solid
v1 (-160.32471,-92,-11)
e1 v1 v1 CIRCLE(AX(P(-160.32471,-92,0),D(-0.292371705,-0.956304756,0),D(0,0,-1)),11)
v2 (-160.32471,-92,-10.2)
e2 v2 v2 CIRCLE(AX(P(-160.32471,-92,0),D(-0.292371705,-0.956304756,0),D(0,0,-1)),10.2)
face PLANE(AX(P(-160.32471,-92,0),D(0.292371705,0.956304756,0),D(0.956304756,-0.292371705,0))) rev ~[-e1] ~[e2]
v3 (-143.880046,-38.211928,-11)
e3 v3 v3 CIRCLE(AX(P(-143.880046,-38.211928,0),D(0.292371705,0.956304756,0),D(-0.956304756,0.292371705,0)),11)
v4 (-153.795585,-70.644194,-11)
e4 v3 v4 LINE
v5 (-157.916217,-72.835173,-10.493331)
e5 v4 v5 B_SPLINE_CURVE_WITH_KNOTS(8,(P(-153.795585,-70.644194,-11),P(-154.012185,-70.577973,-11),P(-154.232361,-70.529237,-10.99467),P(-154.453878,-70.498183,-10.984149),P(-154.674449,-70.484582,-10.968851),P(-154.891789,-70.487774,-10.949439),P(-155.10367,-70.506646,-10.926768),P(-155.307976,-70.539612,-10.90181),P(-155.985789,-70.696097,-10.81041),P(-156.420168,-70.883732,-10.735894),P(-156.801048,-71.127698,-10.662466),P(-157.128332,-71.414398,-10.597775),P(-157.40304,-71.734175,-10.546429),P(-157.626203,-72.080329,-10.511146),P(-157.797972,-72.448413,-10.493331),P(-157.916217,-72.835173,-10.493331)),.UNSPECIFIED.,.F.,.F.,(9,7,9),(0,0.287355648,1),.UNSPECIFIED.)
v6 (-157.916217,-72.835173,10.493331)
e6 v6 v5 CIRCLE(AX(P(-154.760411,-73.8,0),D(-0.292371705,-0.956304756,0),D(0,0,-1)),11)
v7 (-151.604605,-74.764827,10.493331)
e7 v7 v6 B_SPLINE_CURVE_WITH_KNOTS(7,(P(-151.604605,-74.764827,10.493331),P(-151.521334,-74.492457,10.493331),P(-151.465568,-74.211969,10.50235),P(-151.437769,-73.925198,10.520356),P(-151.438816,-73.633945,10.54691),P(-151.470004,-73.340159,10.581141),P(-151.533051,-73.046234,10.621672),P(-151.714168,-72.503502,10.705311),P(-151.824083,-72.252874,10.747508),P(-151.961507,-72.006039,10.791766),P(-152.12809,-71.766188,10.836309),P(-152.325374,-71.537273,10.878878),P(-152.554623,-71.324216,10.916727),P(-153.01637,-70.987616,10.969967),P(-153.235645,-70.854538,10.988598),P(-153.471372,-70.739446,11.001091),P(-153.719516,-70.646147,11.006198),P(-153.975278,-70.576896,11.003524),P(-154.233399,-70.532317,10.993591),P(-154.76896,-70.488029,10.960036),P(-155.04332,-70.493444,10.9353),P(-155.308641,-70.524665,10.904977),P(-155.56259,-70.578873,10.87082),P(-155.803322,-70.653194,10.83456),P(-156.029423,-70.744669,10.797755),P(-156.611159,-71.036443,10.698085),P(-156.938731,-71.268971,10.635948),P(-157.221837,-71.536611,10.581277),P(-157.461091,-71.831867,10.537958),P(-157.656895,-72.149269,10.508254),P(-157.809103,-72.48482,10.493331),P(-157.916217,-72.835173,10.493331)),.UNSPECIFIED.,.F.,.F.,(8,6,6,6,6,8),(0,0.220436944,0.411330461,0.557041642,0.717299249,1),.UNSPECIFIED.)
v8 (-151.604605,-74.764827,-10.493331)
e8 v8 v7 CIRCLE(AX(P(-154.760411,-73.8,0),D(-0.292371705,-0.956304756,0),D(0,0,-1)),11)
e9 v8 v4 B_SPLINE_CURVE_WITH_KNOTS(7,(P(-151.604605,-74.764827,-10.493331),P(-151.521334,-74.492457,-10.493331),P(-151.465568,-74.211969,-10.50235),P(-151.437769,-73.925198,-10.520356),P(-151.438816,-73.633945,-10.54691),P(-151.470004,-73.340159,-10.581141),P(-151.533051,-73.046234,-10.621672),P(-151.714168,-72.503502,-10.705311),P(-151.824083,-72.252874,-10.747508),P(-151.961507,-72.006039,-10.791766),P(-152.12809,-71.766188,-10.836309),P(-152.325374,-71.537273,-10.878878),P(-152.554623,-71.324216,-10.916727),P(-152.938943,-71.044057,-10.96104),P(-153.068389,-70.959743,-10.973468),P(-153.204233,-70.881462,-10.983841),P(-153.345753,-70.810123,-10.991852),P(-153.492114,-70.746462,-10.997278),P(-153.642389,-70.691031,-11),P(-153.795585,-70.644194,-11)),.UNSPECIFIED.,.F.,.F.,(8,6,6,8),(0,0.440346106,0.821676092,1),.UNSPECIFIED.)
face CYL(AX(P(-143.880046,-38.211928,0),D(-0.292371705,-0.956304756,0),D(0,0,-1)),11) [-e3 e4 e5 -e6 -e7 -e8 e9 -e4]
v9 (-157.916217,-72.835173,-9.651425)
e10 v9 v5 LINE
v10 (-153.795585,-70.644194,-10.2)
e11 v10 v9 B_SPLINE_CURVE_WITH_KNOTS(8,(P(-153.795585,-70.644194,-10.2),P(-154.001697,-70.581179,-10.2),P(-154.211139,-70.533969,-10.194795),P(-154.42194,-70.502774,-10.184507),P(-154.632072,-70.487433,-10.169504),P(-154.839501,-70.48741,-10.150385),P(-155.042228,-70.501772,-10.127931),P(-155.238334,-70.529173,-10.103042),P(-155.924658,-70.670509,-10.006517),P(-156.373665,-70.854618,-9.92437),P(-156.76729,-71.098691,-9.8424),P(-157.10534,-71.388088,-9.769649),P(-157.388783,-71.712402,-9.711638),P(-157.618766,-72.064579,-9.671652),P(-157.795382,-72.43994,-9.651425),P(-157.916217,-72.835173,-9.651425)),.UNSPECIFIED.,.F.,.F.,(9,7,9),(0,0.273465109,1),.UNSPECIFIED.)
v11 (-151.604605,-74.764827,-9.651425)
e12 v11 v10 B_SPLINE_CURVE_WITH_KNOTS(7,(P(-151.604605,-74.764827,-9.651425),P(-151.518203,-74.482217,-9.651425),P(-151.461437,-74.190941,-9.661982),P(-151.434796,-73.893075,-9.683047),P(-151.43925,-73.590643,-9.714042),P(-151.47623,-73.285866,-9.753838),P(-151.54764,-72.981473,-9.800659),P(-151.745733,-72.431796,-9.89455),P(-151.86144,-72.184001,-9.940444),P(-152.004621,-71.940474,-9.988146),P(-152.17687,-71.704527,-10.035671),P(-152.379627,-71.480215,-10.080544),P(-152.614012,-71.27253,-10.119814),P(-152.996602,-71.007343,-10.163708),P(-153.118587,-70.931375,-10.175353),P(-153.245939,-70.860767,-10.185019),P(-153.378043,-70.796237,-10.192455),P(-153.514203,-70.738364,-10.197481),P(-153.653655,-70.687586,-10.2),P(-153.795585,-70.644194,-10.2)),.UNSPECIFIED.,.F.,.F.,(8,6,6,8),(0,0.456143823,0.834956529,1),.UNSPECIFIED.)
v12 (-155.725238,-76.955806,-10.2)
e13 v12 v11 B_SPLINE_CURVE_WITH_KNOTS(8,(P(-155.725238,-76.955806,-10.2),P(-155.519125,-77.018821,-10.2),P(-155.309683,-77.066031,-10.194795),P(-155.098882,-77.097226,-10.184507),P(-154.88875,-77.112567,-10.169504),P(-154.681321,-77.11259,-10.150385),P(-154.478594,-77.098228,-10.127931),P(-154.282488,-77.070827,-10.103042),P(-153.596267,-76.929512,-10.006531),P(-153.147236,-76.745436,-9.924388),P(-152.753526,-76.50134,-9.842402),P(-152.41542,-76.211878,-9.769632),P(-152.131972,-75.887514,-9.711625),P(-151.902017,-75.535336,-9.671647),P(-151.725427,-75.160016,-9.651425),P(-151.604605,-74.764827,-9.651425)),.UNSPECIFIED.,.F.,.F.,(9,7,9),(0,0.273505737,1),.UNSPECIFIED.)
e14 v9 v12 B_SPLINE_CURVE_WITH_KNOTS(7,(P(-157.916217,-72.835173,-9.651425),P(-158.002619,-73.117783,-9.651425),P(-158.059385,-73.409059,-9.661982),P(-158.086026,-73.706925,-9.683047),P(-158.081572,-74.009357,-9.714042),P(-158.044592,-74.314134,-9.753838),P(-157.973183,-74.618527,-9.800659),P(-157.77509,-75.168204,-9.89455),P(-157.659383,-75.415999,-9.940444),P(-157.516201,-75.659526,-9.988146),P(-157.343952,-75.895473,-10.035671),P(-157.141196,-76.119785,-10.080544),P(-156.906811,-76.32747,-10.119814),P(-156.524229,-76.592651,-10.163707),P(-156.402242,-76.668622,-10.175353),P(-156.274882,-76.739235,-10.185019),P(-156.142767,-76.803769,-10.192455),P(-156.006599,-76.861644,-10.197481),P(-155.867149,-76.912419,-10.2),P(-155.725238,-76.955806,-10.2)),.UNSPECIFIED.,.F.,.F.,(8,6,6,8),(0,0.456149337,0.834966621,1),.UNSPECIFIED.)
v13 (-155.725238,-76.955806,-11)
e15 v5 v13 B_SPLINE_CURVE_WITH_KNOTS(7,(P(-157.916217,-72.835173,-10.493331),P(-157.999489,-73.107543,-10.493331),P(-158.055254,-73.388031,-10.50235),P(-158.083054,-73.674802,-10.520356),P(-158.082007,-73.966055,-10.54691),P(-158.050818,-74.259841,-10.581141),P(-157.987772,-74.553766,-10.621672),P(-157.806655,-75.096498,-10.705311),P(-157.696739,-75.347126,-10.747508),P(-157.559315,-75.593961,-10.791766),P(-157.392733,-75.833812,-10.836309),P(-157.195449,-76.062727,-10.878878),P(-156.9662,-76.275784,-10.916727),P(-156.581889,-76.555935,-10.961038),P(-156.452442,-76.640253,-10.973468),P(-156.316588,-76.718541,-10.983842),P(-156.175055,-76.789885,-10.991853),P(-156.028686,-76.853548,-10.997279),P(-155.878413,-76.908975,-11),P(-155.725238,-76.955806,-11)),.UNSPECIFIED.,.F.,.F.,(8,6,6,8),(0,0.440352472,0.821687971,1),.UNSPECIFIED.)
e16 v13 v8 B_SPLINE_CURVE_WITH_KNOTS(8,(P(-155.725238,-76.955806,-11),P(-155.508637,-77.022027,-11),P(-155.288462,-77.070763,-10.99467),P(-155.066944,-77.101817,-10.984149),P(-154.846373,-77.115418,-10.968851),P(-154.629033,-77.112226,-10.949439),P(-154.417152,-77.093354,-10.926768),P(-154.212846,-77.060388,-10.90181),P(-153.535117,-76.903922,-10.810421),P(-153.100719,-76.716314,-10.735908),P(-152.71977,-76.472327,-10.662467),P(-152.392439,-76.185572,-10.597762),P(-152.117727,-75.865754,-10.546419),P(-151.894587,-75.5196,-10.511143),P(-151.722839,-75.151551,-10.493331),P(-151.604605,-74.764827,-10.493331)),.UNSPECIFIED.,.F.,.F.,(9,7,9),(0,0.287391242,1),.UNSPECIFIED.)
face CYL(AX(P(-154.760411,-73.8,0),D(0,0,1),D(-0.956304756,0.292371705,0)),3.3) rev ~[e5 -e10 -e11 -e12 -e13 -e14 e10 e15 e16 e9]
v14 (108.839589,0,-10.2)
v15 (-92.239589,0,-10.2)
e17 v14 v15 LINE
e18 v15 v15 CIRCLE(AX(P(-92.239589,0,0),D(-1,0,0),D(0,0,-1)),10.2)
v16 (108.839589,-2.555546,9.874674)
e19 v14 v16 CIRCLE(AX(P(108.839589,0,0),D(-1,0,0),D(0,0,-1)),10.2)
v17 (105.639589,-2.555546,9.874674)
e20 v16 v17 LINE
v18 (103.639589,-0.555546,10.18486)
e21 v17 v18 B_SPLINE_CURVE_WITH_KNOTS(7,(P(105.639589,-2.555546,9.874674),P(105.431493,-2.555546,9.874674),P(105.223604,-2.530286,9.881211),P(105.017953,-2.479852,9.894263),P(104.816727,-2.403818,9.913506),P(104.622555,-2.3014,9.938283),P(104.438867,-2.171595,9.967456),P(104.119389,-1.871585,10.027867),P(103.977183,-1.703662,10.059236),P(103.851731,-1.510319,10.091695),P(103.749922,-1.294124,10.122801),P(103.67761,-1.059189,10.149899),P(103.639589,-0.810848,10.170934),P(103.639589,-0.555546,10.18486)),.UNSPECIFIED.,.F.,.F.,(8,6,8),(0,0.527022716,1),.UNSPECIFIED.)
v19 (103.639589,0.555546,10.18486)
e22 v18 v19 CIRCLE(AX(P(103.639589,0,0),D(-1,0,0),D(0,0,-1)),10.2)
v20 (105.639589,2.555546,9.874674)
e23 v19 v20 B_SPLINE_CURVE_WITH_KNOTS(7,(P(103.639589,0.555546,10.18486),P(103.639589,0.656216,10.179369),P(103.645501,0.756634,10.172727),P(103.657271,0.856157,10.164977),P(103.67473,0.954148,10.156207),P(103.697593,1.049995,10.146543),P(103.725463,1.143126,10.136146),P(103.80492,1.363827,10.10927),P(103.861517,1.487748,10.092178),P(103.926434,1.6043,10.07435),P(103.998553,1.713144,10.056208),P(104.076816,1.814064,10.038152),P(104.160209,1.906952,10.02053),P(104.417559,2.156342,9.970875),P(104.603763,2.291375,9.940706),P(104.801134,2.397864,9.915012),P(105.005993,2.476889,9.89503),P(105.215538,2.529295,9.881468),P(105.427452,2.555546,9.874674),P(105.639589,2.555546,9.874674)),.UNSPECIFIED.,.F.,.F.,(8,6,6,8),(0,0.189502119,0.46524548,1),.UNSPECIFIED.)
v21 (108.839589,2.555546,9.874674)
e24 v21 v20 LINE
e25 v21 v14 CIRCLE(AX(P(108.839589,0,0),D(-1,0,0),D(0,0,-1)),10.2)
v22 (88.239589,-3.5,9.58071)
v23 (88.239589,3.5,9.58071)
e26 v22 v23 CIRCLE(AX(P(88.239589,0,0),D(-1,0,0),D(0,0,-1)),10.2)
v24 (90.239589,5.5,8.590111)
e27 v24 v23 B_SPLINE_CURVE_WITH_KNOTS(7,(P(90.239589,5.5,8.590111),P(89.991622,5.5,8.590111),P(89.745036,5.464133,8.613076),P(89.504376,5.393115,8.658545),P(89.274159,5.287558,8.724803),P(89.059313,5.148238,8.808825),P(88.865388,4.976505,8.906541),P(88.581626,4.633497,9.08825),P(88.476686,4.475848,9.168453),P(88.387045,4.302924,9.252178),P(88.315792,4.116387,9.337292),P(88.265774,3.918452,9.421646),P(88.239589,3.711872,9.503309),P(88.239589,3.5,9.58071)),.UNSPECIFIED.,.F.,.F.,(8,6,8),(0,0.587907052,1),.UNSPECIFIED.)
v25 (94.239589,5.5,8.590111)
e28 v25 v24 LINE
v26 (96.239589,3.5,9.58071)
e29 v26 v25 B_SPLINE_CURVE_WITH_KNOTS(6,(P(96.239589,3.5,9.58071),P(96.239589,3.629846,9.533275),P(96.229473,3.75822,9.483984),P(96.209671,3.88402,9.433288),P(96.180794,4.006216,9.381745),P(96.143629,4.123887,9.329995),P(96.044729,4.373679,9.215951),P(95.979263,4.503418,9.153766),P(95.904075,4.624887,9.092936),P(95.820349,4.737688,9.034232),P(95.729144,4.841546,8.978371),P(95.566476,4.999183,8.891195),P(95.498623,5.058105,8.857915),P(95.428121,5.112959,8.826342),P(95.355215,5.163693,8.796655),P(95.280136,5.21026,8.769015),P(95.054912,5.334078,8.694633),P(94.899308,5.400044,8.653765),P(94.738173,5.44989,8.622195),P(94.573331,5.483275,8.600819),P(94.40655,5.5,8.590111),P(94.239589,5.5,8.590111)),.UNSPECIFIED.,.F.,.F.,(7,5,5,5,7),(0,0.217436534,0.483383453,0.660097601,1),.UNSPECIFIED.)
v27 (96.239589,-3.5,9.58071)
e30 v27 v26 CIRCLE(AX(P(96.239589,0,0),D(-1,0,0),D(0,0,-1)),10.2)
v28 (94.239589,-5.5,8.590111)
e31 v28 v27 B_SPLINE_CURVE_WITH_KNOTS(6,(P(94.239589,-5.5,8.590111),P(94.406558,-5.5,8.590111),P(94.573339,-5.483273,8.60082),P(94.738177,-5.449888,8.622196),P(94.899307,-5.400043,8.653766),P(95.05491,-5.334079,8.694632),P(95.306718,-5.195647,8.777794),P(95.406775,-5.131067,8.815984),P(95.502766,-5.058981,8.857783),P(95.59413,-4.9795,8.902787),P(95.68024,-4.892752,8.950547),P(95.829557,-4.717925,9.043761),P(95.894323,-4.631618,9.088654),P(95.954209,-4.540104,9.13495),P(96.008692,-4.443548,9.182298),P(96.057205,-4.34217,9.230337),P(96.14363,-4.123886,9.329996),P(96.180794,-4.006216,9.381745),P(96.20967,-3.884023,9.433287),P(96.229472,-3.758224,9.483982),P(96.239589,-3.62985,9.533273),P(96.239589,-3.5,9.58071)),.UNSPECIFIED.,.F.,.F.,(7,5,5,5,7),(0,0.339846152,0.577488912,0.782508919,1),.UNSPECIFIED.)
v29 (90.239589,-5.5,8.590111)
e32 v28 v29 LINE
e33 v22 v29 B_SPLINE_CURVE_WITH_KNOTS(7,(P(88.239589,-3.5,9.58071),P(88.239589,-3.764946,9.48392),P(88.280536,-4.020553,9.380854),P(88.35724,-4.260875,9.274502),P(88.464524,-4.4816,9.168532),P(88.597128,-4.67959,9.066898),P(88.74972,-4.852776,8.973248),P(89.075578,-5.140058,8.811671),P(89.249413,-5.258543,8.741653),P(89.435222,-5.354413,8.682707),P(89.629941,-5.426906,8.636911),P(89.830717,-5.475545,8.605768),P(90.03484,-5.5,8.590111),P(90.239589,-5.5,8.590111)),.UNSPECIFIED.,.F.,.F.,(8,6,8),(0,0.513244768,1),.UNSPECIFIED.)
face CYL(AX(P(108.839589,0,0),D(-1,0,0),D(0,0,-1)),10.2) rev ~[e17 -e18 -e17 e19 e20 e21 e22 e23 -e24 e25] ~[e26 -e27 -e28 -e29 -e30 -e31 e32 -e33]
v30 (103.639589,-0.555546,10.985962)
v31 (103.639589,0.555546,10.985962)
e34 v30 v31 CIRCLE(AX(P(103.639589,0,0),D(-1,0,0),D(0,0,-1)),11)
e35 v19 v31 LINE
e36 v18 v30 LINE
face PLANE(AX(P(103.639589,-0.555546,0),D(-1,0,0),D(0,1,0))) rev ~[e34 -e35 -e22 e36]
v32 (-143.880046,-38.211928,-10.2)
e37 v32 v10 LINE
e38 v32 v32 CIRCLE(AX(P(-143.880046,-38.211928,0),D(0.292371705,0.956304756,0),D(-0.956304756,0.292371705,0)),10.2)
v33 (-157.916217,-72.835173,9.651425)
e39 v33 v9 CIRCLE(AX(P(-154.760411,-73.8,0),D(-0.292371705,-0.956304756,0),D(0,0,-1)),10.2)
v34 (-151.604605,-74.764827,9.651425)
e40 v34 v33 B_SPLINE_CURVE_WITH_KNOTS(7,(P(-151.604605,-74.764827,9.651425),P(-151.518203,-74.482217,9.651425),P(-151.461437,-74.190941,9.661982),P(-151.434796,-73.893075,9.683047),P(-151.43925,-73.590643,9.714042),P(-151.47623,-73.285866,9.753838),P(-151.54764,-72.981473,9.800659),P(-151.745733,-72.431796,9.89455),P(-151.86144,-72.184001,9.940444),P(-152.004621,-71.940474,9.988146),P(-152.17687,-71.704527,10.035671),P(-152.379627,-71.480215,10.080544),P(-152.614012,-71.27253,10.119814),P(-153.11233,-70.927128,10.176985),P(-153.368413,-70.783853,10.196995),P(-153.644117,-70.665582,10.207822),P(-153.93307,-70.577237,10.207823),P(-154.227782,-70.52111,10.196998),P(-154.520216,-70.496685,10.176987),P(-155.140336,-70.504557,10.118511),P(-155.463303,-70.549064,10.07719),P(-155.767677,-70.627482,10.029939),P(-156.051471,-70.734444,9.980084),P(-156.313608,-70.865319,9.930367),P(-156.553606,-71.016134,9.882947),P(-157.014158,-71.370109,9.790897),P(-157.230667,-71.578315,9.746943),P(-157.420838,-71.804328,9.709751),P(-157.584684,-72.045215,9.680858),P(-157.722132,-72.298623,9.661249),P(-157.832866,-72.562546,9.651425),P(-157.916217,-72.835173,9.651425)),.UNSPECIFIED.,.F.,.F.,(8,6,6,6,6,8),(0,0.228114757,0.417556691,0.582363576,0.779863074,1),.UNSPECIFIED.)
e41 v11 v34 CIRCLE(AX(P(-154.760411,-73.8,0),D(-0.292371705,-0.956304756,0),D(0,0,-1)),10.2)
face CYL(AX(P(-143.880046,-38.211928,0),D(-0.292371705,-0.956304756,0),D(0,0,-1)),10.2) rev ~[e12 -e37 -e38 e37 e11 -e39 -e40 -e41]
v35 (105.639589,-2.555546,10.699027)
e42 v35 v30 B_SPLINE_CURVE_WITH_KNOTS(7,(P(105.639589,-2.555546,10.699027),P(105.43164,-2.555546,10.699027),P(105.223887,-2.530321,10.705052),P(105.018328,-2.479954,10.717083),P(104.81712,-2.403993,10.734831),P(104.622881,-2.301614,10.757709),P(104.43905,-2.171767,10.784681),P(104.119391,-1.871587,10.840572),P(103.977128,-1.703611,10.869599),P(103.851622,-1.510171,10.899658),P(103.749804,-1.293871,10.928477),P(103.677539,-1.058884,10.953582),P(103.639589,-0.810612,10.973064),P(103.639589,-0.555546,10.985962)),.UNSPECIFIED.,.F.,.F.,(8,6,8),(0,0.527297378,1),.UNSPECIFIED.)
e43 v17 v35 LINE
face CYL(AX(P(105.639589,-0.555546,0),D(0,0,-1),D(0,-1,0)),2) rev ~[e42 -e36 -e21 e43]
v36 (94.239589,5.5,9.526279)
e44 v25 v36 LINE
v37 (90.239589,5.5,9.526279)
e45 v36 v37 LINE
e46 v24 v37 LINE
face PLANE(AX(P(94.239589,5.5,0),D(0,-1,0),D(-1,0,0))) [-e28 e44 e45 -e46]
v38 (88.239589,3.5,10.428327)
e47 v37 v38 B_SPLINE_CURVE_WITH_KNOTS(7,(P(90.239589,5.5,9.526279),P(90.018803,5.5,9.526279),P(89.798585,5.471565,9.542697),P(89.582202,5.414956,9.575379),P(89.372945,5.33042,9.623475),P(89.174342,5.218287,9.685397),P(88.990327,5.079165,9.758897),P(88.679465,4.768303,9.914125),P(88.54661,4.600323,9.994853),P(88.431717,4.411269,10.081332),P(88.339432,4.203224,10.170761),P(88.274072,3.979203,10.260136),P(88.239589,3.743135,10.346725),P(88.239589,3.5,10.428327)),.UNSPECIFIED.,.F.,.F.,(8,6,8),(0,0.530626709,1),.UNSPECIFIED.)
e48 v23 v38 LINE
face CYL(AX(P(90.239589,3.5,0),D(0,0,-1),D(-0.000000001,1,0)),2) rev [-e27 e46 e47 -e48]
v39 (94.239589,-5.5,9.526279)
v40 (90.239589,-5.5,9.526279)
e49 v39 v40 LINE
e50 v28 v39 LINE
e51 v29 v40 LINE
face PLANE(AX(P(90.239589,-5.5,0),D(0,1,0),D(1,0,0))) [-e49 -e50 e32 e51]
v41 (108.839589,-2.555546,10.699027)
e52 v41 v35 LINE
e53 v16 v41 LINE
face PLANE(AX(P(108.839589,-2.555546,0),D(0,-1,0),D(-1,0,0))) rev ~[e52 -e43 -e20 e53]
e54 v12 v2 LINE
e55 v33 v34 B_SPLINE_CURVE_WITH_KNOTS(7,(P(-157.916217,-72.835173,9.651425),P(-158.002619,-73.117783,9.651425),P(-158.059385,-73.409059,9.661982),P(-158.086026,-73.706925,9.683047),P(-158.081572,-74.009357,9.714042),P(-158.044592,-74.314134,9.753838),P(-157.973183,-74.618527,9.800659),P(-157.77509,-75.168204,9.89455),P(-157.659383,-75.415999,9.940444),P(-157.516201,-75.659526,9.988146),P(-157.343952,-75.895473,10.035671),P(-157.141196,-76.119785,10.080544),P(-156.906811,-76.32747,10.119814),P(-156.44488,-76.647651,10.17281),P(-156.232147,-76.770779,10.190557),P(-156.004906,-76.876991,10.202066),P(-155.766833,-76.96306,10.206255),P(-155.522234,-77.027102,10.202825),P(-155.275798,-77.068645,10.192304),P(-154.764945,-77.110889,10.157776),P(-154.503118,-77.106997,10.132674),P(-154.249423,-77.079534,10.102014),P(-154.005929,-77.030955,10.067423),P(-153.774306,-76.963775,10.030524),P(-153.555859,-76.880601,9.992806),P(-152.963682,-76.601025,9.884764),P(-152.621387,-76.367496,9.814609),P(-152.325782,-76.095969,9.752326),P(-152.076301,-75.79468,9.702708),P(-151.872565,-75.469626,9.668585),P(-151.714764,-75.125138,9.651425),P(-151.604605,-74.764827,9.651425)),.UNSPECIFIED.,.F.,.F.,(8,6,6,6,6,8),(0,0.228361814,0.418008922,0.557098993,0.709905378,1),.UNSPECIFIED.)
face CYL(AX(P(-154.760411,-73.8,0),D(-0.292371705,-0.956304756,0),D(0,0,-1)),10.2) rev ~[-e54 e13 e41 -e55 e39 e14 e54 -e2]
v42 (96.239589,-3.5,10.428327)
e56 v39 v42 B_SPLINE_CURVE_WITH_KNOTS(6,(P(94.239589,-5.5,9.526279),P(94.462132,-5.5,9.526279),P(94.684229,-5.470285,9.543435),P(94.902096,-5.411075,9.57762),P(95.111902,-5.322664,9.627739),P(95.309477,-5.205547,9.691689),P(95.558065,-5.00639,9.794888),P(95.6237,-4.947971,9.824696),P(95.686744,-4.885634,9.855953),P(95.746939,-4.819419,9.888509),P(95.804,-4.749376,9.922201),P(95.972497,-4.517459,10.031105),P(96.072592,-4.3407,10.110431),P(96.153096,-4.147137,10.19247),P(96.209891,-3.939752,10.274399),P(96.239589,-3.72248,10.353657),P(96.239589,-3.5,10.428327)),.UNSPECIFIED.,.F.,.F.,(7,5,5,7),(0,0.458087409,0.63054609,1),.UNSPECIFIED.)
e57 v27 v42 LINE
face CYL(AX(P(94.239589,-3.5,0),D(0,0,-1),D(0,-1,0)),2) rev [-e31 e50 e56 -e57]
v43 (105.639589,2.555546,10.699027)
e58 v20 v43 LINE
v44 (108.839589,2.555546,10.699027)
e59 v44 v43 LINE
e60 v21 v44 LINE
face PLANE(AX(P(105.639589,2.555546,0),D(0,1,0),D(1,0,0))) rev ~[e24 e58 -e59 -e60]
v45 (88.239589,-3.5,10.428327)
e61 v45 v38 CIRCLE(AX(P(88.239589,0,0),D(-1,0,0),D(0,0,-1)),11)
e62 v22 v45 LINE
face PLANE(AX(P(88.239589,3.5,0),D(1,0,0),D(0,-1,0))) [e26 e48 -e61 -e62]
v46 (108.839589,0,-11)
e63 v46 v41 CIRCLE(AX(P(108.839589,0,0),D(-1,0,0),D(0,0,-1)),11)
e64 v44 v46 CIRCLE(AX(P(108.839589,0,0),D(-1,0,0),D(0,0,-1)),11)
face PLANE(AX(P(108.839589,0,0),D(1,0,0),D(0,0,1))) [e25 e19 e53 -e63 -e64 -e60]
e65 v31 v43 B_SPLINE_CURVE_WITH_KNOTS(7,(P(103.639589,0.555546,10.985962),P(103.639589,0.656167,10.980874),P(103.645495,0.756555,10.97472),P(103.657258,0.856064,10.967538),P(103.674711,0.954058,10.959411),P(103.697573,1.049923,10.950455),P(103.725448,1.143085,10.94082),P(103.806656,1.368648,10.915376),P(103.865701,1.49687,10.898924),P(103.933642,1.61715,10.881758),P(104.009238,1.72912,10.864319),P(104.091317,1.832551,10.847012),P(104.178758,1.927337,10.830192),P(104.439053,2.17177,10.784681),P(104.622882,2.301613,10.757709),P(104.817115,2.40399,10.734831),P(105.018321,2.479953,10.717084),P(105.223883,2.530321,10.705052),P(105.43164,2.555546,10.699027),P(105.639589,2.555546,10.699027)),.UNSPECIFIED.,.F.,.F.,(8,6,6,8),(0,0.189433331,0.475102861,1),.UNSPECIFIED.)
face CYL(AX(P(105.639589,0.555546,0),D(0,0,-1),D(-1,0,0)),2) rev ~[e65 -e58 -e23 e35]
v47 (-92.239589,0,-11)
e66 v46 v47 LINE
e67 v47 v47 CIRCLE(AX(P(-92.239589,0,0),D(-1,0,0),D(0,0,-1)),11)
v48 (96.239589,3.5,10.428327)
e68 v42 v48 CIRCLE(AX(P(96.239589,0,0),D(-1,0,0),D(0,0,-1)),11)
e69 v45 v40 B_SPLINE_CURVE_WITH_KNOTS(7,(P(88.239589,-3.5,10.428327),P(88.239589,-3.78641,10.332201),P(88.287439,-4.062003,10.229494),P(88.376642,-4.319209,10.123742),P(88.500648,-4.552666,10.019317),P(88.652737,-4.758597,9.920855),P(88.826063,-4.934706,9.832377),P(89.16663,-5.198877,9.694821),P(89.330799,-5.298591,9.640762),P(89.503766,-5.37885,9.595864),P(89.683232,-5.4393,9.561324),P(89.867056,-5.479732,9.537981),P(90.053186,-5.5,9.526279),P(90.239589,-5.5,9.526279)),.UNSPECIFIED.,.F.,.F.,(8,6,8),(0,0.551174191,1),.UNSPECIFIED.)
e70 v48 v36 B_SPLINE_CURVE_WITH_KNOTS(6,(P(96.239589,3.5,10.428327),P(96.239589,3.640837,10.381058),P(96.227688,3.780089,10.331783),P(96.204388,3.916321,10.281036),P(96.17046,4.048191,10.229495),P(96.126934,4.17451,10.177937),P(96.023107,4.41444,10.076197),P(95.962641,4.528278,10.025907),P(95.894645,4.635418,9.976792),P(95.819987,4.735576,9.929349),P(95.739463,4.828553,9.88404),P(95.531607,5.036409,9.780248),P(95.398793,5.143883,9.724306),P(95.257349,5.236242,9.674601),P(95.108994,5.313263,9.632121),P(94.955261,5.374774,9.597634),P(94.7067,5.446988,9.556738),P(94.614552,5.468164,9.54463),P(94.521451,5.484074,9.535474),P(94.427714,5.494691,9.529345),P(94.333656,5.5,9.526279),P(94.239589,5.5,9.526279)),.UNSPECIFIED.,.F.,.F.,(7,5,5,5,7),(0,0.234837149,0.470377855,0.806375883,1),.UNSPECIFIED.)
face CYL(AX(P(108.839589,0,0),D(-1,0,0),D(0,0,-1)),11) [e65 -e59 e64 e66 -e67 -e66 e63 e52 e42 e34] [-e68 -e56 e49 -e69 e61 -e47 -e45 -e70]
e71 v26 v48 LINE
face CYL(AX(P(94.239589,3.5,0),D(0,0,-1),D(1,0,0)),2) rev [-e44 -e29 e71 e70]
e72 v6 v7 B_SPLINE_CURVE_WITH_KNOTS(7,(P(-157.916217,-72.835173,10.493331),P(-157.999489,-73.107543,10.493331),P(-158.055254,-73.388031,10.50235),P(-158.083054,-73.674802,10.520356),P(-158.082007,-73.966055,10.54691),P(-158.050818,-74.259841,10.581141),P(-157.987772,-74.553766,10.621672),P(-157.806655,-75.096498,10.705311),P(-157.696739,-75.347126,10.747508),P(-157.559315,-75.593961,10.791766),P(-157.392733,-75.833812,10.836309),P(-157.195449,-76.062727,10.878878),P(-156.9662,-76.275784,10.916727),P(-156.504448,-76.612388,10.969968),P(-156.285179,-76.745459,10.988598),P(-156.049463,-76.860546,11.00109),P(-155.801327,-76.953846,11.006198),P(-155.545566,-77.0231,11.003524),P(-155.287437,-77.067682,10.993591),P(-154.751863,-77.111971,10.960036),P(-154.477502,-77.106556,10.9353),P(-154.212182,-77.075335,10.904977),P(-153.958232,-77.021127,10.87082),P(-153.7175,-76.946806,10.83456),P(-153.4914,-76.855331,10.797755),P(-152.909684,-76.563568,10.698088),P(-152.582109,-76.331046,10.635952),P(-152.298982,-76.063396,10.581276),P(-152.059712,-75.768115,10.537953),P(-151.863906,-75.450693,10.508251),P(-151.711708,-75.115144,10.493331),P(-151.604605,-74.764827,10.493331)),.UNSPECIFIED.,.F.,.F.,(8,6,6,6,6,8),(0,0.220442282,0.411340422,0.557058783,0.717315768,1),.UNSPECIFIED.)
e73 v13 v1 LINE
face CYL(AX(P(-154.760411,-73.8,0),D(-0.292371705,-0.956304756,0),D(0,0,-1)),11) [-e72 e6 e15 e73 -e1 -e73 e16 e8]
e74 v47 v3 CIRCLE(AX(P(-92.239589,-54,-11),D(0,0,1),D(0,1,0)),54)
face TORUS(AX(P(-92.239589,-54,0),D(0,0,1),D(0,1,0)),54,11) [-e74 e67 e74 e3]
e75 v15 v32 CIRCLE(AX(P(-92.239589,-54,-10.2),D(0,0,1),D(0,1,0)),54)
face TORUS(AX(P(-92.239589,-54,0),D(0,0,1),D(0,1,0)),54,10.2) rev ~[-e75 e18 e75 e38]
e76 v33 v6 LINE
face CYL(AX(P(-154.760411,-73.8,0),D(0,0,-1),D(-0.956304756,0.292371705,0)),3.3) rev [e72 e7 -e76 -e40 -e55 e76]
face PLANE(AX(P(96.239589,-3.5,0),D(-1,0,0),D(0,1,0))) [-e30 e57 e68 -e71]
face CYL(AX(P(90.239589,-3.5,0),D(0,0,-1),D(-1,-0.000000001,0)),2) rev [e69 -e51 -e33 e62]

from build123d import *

# Parameters (mm, degrees)
SKETCH3_R          = 11
SKETCH3_R_2        = 10.2
CUT_EXTRUDE1_REACH = 197.895
SKETCH4_R          = 3.3
SKETCH5_R          = 3.3
CUT_EXTRUDE2_DEPTH = 196.894862351


with BuildPart() as part:
    # Sweep2: sweep along a path in Sketch1
    with BuildLine(Plane.XY) as sweep2_path:
        Line((108.839588828, 0), (92.239588828, 0))
        Line((92.239588828, 0), (-92.239588828, 0))
        ThreePointArc((-92.239588828, 0), (-124.360019313, -10.591729527), (-143.88004565, -38.211927945))
        Line((-143.88004565, -38.211927945), (-154.760411172, -73.8))
        Line((-154.760411172, -73.8), (-160.324709574, -92))
    # Sketch3 → Sweep2 (sweep)
    with BuildSketch(Plane(origin=(92.239588828, 0, 0), x_dir=(0, 0, -1), z_dir=(1, 0, 0))):
        Circle(SKETCH3_R)
        Circle(SKETCH3_R_2, mode=Mode.SUBTRACT)
    sweep(path=sweep2_path.line)

    # Sketch4 → Cut-Extrude1 (cut, up to next)
    with BuildSketch(Plane.XY, mode=Mode.PRIVATE) as cut_extrude1_sk1:
        with Locations((-154.760411172, -73.8)):
            Circle(SKETCH4_R)
    cut_extrude1_tool1 = extrude(cut_extrude1_sk1.sketch, amount=CUT_EXTRUDE1_REACH, mode=Mode.PRIVATE) & part.part
    # Sketch4 → Cut-Extrude1 (cut, up to next)
    with BuildSketch(Plane.XY, mode=Mode.PRIVATE) as cut_extrude1_sk2:
        with BuildLine():
            Line((108.839588828, 2.555545653), (108.839588828, -2.555545653))
            Line((108.839588828, -2.555545653), (105.639588828, -2.555545653))
            ThreePointArc((105.639588828, -2.555545653), (104.225375266, -1.969759216), (103.639588828, -0.555545653))
            Line((103.639588828, -0.555545653), (103.639588828, 0.555545653))
            ThreePointArc((103.639588828, 0.555545653), (104.225375266, 1.969759216), (105.639588828, 2.555545653))
            Line((105.639588828, 2.555545653), (108.839588828, 2.555545653))
        make_face()
    cut_extrude1_tool2 = extrude(cut_extrude1_sk2.sketch, amount=CUT_EXTRUDE1_REACH, mode=Mode.PRIVATE) & part.part
    # Sketch4 → Cut-Extrude1 (cut, up to next)
    with BuildSketch(Plane.XY, mode=Mode.PRIVATE) as cut_extrude1_sk3:
        with BuildLine():
            Line((90.239588828, -5.5), (94.239588828, -5.5))
            ThreePointArc((94.239588828, -5.5), (95.653802391, -4.914213562), (96.239588828, -3.5))
            Line((96.239588828, -3.5), (96.239588828, 3.5))
            ThreePointArc((96.239588828, 3.5), (95.653802391, 4.914213562), (94.239588828, 5.5))
            Line((94.239588828, 5.5), (90.239588828, 5.5))
            ThreePointArc((90.239588828, 5.5), (88.825375266, 4.914213562), (88.239588828, 3.5))
            Line((88.239588828, 3.5), (88.239588828, -3.5))
            ThreePointArc((88.239588828, -3.5), (88.825375266, -4.914213562), (90.239588828, -5.5))
        make_face()
    cut_extrude1_tool3 = extrude(cut_extrude1_sk3.sketch, amount=CUT_EXTRUDE1_REACH, mode=Mode.PRIVATE) & part.part
    add(cut_extrude1_tool1.solids().sort_by_distance((-154.760411, -73.8, 0))[0], mode=Mode.SUBTRACT)
    add(cut_extrude1_tool2.solids().sort_by_distance((106.388287, 0, 0))[0], mode=Mode.SUBTRACT)
    add(cut_extrude1_tool3.solids().sort_by_distance((92.239589, 0, 0))[0], mode=Mode.SUBTRACT)

    # Sketch5 → Cut-Extrude2 (cut, through all)
    with BuildSketch(Plane.XY):
        with Locations((-154.760411172, -73.8)):
            Circle(SKETCH5_R)
    extrude(amount=-CUT_EXTRUDE2_DEPTH, mode=Mode.SUBTRACT)


solid = part.part
